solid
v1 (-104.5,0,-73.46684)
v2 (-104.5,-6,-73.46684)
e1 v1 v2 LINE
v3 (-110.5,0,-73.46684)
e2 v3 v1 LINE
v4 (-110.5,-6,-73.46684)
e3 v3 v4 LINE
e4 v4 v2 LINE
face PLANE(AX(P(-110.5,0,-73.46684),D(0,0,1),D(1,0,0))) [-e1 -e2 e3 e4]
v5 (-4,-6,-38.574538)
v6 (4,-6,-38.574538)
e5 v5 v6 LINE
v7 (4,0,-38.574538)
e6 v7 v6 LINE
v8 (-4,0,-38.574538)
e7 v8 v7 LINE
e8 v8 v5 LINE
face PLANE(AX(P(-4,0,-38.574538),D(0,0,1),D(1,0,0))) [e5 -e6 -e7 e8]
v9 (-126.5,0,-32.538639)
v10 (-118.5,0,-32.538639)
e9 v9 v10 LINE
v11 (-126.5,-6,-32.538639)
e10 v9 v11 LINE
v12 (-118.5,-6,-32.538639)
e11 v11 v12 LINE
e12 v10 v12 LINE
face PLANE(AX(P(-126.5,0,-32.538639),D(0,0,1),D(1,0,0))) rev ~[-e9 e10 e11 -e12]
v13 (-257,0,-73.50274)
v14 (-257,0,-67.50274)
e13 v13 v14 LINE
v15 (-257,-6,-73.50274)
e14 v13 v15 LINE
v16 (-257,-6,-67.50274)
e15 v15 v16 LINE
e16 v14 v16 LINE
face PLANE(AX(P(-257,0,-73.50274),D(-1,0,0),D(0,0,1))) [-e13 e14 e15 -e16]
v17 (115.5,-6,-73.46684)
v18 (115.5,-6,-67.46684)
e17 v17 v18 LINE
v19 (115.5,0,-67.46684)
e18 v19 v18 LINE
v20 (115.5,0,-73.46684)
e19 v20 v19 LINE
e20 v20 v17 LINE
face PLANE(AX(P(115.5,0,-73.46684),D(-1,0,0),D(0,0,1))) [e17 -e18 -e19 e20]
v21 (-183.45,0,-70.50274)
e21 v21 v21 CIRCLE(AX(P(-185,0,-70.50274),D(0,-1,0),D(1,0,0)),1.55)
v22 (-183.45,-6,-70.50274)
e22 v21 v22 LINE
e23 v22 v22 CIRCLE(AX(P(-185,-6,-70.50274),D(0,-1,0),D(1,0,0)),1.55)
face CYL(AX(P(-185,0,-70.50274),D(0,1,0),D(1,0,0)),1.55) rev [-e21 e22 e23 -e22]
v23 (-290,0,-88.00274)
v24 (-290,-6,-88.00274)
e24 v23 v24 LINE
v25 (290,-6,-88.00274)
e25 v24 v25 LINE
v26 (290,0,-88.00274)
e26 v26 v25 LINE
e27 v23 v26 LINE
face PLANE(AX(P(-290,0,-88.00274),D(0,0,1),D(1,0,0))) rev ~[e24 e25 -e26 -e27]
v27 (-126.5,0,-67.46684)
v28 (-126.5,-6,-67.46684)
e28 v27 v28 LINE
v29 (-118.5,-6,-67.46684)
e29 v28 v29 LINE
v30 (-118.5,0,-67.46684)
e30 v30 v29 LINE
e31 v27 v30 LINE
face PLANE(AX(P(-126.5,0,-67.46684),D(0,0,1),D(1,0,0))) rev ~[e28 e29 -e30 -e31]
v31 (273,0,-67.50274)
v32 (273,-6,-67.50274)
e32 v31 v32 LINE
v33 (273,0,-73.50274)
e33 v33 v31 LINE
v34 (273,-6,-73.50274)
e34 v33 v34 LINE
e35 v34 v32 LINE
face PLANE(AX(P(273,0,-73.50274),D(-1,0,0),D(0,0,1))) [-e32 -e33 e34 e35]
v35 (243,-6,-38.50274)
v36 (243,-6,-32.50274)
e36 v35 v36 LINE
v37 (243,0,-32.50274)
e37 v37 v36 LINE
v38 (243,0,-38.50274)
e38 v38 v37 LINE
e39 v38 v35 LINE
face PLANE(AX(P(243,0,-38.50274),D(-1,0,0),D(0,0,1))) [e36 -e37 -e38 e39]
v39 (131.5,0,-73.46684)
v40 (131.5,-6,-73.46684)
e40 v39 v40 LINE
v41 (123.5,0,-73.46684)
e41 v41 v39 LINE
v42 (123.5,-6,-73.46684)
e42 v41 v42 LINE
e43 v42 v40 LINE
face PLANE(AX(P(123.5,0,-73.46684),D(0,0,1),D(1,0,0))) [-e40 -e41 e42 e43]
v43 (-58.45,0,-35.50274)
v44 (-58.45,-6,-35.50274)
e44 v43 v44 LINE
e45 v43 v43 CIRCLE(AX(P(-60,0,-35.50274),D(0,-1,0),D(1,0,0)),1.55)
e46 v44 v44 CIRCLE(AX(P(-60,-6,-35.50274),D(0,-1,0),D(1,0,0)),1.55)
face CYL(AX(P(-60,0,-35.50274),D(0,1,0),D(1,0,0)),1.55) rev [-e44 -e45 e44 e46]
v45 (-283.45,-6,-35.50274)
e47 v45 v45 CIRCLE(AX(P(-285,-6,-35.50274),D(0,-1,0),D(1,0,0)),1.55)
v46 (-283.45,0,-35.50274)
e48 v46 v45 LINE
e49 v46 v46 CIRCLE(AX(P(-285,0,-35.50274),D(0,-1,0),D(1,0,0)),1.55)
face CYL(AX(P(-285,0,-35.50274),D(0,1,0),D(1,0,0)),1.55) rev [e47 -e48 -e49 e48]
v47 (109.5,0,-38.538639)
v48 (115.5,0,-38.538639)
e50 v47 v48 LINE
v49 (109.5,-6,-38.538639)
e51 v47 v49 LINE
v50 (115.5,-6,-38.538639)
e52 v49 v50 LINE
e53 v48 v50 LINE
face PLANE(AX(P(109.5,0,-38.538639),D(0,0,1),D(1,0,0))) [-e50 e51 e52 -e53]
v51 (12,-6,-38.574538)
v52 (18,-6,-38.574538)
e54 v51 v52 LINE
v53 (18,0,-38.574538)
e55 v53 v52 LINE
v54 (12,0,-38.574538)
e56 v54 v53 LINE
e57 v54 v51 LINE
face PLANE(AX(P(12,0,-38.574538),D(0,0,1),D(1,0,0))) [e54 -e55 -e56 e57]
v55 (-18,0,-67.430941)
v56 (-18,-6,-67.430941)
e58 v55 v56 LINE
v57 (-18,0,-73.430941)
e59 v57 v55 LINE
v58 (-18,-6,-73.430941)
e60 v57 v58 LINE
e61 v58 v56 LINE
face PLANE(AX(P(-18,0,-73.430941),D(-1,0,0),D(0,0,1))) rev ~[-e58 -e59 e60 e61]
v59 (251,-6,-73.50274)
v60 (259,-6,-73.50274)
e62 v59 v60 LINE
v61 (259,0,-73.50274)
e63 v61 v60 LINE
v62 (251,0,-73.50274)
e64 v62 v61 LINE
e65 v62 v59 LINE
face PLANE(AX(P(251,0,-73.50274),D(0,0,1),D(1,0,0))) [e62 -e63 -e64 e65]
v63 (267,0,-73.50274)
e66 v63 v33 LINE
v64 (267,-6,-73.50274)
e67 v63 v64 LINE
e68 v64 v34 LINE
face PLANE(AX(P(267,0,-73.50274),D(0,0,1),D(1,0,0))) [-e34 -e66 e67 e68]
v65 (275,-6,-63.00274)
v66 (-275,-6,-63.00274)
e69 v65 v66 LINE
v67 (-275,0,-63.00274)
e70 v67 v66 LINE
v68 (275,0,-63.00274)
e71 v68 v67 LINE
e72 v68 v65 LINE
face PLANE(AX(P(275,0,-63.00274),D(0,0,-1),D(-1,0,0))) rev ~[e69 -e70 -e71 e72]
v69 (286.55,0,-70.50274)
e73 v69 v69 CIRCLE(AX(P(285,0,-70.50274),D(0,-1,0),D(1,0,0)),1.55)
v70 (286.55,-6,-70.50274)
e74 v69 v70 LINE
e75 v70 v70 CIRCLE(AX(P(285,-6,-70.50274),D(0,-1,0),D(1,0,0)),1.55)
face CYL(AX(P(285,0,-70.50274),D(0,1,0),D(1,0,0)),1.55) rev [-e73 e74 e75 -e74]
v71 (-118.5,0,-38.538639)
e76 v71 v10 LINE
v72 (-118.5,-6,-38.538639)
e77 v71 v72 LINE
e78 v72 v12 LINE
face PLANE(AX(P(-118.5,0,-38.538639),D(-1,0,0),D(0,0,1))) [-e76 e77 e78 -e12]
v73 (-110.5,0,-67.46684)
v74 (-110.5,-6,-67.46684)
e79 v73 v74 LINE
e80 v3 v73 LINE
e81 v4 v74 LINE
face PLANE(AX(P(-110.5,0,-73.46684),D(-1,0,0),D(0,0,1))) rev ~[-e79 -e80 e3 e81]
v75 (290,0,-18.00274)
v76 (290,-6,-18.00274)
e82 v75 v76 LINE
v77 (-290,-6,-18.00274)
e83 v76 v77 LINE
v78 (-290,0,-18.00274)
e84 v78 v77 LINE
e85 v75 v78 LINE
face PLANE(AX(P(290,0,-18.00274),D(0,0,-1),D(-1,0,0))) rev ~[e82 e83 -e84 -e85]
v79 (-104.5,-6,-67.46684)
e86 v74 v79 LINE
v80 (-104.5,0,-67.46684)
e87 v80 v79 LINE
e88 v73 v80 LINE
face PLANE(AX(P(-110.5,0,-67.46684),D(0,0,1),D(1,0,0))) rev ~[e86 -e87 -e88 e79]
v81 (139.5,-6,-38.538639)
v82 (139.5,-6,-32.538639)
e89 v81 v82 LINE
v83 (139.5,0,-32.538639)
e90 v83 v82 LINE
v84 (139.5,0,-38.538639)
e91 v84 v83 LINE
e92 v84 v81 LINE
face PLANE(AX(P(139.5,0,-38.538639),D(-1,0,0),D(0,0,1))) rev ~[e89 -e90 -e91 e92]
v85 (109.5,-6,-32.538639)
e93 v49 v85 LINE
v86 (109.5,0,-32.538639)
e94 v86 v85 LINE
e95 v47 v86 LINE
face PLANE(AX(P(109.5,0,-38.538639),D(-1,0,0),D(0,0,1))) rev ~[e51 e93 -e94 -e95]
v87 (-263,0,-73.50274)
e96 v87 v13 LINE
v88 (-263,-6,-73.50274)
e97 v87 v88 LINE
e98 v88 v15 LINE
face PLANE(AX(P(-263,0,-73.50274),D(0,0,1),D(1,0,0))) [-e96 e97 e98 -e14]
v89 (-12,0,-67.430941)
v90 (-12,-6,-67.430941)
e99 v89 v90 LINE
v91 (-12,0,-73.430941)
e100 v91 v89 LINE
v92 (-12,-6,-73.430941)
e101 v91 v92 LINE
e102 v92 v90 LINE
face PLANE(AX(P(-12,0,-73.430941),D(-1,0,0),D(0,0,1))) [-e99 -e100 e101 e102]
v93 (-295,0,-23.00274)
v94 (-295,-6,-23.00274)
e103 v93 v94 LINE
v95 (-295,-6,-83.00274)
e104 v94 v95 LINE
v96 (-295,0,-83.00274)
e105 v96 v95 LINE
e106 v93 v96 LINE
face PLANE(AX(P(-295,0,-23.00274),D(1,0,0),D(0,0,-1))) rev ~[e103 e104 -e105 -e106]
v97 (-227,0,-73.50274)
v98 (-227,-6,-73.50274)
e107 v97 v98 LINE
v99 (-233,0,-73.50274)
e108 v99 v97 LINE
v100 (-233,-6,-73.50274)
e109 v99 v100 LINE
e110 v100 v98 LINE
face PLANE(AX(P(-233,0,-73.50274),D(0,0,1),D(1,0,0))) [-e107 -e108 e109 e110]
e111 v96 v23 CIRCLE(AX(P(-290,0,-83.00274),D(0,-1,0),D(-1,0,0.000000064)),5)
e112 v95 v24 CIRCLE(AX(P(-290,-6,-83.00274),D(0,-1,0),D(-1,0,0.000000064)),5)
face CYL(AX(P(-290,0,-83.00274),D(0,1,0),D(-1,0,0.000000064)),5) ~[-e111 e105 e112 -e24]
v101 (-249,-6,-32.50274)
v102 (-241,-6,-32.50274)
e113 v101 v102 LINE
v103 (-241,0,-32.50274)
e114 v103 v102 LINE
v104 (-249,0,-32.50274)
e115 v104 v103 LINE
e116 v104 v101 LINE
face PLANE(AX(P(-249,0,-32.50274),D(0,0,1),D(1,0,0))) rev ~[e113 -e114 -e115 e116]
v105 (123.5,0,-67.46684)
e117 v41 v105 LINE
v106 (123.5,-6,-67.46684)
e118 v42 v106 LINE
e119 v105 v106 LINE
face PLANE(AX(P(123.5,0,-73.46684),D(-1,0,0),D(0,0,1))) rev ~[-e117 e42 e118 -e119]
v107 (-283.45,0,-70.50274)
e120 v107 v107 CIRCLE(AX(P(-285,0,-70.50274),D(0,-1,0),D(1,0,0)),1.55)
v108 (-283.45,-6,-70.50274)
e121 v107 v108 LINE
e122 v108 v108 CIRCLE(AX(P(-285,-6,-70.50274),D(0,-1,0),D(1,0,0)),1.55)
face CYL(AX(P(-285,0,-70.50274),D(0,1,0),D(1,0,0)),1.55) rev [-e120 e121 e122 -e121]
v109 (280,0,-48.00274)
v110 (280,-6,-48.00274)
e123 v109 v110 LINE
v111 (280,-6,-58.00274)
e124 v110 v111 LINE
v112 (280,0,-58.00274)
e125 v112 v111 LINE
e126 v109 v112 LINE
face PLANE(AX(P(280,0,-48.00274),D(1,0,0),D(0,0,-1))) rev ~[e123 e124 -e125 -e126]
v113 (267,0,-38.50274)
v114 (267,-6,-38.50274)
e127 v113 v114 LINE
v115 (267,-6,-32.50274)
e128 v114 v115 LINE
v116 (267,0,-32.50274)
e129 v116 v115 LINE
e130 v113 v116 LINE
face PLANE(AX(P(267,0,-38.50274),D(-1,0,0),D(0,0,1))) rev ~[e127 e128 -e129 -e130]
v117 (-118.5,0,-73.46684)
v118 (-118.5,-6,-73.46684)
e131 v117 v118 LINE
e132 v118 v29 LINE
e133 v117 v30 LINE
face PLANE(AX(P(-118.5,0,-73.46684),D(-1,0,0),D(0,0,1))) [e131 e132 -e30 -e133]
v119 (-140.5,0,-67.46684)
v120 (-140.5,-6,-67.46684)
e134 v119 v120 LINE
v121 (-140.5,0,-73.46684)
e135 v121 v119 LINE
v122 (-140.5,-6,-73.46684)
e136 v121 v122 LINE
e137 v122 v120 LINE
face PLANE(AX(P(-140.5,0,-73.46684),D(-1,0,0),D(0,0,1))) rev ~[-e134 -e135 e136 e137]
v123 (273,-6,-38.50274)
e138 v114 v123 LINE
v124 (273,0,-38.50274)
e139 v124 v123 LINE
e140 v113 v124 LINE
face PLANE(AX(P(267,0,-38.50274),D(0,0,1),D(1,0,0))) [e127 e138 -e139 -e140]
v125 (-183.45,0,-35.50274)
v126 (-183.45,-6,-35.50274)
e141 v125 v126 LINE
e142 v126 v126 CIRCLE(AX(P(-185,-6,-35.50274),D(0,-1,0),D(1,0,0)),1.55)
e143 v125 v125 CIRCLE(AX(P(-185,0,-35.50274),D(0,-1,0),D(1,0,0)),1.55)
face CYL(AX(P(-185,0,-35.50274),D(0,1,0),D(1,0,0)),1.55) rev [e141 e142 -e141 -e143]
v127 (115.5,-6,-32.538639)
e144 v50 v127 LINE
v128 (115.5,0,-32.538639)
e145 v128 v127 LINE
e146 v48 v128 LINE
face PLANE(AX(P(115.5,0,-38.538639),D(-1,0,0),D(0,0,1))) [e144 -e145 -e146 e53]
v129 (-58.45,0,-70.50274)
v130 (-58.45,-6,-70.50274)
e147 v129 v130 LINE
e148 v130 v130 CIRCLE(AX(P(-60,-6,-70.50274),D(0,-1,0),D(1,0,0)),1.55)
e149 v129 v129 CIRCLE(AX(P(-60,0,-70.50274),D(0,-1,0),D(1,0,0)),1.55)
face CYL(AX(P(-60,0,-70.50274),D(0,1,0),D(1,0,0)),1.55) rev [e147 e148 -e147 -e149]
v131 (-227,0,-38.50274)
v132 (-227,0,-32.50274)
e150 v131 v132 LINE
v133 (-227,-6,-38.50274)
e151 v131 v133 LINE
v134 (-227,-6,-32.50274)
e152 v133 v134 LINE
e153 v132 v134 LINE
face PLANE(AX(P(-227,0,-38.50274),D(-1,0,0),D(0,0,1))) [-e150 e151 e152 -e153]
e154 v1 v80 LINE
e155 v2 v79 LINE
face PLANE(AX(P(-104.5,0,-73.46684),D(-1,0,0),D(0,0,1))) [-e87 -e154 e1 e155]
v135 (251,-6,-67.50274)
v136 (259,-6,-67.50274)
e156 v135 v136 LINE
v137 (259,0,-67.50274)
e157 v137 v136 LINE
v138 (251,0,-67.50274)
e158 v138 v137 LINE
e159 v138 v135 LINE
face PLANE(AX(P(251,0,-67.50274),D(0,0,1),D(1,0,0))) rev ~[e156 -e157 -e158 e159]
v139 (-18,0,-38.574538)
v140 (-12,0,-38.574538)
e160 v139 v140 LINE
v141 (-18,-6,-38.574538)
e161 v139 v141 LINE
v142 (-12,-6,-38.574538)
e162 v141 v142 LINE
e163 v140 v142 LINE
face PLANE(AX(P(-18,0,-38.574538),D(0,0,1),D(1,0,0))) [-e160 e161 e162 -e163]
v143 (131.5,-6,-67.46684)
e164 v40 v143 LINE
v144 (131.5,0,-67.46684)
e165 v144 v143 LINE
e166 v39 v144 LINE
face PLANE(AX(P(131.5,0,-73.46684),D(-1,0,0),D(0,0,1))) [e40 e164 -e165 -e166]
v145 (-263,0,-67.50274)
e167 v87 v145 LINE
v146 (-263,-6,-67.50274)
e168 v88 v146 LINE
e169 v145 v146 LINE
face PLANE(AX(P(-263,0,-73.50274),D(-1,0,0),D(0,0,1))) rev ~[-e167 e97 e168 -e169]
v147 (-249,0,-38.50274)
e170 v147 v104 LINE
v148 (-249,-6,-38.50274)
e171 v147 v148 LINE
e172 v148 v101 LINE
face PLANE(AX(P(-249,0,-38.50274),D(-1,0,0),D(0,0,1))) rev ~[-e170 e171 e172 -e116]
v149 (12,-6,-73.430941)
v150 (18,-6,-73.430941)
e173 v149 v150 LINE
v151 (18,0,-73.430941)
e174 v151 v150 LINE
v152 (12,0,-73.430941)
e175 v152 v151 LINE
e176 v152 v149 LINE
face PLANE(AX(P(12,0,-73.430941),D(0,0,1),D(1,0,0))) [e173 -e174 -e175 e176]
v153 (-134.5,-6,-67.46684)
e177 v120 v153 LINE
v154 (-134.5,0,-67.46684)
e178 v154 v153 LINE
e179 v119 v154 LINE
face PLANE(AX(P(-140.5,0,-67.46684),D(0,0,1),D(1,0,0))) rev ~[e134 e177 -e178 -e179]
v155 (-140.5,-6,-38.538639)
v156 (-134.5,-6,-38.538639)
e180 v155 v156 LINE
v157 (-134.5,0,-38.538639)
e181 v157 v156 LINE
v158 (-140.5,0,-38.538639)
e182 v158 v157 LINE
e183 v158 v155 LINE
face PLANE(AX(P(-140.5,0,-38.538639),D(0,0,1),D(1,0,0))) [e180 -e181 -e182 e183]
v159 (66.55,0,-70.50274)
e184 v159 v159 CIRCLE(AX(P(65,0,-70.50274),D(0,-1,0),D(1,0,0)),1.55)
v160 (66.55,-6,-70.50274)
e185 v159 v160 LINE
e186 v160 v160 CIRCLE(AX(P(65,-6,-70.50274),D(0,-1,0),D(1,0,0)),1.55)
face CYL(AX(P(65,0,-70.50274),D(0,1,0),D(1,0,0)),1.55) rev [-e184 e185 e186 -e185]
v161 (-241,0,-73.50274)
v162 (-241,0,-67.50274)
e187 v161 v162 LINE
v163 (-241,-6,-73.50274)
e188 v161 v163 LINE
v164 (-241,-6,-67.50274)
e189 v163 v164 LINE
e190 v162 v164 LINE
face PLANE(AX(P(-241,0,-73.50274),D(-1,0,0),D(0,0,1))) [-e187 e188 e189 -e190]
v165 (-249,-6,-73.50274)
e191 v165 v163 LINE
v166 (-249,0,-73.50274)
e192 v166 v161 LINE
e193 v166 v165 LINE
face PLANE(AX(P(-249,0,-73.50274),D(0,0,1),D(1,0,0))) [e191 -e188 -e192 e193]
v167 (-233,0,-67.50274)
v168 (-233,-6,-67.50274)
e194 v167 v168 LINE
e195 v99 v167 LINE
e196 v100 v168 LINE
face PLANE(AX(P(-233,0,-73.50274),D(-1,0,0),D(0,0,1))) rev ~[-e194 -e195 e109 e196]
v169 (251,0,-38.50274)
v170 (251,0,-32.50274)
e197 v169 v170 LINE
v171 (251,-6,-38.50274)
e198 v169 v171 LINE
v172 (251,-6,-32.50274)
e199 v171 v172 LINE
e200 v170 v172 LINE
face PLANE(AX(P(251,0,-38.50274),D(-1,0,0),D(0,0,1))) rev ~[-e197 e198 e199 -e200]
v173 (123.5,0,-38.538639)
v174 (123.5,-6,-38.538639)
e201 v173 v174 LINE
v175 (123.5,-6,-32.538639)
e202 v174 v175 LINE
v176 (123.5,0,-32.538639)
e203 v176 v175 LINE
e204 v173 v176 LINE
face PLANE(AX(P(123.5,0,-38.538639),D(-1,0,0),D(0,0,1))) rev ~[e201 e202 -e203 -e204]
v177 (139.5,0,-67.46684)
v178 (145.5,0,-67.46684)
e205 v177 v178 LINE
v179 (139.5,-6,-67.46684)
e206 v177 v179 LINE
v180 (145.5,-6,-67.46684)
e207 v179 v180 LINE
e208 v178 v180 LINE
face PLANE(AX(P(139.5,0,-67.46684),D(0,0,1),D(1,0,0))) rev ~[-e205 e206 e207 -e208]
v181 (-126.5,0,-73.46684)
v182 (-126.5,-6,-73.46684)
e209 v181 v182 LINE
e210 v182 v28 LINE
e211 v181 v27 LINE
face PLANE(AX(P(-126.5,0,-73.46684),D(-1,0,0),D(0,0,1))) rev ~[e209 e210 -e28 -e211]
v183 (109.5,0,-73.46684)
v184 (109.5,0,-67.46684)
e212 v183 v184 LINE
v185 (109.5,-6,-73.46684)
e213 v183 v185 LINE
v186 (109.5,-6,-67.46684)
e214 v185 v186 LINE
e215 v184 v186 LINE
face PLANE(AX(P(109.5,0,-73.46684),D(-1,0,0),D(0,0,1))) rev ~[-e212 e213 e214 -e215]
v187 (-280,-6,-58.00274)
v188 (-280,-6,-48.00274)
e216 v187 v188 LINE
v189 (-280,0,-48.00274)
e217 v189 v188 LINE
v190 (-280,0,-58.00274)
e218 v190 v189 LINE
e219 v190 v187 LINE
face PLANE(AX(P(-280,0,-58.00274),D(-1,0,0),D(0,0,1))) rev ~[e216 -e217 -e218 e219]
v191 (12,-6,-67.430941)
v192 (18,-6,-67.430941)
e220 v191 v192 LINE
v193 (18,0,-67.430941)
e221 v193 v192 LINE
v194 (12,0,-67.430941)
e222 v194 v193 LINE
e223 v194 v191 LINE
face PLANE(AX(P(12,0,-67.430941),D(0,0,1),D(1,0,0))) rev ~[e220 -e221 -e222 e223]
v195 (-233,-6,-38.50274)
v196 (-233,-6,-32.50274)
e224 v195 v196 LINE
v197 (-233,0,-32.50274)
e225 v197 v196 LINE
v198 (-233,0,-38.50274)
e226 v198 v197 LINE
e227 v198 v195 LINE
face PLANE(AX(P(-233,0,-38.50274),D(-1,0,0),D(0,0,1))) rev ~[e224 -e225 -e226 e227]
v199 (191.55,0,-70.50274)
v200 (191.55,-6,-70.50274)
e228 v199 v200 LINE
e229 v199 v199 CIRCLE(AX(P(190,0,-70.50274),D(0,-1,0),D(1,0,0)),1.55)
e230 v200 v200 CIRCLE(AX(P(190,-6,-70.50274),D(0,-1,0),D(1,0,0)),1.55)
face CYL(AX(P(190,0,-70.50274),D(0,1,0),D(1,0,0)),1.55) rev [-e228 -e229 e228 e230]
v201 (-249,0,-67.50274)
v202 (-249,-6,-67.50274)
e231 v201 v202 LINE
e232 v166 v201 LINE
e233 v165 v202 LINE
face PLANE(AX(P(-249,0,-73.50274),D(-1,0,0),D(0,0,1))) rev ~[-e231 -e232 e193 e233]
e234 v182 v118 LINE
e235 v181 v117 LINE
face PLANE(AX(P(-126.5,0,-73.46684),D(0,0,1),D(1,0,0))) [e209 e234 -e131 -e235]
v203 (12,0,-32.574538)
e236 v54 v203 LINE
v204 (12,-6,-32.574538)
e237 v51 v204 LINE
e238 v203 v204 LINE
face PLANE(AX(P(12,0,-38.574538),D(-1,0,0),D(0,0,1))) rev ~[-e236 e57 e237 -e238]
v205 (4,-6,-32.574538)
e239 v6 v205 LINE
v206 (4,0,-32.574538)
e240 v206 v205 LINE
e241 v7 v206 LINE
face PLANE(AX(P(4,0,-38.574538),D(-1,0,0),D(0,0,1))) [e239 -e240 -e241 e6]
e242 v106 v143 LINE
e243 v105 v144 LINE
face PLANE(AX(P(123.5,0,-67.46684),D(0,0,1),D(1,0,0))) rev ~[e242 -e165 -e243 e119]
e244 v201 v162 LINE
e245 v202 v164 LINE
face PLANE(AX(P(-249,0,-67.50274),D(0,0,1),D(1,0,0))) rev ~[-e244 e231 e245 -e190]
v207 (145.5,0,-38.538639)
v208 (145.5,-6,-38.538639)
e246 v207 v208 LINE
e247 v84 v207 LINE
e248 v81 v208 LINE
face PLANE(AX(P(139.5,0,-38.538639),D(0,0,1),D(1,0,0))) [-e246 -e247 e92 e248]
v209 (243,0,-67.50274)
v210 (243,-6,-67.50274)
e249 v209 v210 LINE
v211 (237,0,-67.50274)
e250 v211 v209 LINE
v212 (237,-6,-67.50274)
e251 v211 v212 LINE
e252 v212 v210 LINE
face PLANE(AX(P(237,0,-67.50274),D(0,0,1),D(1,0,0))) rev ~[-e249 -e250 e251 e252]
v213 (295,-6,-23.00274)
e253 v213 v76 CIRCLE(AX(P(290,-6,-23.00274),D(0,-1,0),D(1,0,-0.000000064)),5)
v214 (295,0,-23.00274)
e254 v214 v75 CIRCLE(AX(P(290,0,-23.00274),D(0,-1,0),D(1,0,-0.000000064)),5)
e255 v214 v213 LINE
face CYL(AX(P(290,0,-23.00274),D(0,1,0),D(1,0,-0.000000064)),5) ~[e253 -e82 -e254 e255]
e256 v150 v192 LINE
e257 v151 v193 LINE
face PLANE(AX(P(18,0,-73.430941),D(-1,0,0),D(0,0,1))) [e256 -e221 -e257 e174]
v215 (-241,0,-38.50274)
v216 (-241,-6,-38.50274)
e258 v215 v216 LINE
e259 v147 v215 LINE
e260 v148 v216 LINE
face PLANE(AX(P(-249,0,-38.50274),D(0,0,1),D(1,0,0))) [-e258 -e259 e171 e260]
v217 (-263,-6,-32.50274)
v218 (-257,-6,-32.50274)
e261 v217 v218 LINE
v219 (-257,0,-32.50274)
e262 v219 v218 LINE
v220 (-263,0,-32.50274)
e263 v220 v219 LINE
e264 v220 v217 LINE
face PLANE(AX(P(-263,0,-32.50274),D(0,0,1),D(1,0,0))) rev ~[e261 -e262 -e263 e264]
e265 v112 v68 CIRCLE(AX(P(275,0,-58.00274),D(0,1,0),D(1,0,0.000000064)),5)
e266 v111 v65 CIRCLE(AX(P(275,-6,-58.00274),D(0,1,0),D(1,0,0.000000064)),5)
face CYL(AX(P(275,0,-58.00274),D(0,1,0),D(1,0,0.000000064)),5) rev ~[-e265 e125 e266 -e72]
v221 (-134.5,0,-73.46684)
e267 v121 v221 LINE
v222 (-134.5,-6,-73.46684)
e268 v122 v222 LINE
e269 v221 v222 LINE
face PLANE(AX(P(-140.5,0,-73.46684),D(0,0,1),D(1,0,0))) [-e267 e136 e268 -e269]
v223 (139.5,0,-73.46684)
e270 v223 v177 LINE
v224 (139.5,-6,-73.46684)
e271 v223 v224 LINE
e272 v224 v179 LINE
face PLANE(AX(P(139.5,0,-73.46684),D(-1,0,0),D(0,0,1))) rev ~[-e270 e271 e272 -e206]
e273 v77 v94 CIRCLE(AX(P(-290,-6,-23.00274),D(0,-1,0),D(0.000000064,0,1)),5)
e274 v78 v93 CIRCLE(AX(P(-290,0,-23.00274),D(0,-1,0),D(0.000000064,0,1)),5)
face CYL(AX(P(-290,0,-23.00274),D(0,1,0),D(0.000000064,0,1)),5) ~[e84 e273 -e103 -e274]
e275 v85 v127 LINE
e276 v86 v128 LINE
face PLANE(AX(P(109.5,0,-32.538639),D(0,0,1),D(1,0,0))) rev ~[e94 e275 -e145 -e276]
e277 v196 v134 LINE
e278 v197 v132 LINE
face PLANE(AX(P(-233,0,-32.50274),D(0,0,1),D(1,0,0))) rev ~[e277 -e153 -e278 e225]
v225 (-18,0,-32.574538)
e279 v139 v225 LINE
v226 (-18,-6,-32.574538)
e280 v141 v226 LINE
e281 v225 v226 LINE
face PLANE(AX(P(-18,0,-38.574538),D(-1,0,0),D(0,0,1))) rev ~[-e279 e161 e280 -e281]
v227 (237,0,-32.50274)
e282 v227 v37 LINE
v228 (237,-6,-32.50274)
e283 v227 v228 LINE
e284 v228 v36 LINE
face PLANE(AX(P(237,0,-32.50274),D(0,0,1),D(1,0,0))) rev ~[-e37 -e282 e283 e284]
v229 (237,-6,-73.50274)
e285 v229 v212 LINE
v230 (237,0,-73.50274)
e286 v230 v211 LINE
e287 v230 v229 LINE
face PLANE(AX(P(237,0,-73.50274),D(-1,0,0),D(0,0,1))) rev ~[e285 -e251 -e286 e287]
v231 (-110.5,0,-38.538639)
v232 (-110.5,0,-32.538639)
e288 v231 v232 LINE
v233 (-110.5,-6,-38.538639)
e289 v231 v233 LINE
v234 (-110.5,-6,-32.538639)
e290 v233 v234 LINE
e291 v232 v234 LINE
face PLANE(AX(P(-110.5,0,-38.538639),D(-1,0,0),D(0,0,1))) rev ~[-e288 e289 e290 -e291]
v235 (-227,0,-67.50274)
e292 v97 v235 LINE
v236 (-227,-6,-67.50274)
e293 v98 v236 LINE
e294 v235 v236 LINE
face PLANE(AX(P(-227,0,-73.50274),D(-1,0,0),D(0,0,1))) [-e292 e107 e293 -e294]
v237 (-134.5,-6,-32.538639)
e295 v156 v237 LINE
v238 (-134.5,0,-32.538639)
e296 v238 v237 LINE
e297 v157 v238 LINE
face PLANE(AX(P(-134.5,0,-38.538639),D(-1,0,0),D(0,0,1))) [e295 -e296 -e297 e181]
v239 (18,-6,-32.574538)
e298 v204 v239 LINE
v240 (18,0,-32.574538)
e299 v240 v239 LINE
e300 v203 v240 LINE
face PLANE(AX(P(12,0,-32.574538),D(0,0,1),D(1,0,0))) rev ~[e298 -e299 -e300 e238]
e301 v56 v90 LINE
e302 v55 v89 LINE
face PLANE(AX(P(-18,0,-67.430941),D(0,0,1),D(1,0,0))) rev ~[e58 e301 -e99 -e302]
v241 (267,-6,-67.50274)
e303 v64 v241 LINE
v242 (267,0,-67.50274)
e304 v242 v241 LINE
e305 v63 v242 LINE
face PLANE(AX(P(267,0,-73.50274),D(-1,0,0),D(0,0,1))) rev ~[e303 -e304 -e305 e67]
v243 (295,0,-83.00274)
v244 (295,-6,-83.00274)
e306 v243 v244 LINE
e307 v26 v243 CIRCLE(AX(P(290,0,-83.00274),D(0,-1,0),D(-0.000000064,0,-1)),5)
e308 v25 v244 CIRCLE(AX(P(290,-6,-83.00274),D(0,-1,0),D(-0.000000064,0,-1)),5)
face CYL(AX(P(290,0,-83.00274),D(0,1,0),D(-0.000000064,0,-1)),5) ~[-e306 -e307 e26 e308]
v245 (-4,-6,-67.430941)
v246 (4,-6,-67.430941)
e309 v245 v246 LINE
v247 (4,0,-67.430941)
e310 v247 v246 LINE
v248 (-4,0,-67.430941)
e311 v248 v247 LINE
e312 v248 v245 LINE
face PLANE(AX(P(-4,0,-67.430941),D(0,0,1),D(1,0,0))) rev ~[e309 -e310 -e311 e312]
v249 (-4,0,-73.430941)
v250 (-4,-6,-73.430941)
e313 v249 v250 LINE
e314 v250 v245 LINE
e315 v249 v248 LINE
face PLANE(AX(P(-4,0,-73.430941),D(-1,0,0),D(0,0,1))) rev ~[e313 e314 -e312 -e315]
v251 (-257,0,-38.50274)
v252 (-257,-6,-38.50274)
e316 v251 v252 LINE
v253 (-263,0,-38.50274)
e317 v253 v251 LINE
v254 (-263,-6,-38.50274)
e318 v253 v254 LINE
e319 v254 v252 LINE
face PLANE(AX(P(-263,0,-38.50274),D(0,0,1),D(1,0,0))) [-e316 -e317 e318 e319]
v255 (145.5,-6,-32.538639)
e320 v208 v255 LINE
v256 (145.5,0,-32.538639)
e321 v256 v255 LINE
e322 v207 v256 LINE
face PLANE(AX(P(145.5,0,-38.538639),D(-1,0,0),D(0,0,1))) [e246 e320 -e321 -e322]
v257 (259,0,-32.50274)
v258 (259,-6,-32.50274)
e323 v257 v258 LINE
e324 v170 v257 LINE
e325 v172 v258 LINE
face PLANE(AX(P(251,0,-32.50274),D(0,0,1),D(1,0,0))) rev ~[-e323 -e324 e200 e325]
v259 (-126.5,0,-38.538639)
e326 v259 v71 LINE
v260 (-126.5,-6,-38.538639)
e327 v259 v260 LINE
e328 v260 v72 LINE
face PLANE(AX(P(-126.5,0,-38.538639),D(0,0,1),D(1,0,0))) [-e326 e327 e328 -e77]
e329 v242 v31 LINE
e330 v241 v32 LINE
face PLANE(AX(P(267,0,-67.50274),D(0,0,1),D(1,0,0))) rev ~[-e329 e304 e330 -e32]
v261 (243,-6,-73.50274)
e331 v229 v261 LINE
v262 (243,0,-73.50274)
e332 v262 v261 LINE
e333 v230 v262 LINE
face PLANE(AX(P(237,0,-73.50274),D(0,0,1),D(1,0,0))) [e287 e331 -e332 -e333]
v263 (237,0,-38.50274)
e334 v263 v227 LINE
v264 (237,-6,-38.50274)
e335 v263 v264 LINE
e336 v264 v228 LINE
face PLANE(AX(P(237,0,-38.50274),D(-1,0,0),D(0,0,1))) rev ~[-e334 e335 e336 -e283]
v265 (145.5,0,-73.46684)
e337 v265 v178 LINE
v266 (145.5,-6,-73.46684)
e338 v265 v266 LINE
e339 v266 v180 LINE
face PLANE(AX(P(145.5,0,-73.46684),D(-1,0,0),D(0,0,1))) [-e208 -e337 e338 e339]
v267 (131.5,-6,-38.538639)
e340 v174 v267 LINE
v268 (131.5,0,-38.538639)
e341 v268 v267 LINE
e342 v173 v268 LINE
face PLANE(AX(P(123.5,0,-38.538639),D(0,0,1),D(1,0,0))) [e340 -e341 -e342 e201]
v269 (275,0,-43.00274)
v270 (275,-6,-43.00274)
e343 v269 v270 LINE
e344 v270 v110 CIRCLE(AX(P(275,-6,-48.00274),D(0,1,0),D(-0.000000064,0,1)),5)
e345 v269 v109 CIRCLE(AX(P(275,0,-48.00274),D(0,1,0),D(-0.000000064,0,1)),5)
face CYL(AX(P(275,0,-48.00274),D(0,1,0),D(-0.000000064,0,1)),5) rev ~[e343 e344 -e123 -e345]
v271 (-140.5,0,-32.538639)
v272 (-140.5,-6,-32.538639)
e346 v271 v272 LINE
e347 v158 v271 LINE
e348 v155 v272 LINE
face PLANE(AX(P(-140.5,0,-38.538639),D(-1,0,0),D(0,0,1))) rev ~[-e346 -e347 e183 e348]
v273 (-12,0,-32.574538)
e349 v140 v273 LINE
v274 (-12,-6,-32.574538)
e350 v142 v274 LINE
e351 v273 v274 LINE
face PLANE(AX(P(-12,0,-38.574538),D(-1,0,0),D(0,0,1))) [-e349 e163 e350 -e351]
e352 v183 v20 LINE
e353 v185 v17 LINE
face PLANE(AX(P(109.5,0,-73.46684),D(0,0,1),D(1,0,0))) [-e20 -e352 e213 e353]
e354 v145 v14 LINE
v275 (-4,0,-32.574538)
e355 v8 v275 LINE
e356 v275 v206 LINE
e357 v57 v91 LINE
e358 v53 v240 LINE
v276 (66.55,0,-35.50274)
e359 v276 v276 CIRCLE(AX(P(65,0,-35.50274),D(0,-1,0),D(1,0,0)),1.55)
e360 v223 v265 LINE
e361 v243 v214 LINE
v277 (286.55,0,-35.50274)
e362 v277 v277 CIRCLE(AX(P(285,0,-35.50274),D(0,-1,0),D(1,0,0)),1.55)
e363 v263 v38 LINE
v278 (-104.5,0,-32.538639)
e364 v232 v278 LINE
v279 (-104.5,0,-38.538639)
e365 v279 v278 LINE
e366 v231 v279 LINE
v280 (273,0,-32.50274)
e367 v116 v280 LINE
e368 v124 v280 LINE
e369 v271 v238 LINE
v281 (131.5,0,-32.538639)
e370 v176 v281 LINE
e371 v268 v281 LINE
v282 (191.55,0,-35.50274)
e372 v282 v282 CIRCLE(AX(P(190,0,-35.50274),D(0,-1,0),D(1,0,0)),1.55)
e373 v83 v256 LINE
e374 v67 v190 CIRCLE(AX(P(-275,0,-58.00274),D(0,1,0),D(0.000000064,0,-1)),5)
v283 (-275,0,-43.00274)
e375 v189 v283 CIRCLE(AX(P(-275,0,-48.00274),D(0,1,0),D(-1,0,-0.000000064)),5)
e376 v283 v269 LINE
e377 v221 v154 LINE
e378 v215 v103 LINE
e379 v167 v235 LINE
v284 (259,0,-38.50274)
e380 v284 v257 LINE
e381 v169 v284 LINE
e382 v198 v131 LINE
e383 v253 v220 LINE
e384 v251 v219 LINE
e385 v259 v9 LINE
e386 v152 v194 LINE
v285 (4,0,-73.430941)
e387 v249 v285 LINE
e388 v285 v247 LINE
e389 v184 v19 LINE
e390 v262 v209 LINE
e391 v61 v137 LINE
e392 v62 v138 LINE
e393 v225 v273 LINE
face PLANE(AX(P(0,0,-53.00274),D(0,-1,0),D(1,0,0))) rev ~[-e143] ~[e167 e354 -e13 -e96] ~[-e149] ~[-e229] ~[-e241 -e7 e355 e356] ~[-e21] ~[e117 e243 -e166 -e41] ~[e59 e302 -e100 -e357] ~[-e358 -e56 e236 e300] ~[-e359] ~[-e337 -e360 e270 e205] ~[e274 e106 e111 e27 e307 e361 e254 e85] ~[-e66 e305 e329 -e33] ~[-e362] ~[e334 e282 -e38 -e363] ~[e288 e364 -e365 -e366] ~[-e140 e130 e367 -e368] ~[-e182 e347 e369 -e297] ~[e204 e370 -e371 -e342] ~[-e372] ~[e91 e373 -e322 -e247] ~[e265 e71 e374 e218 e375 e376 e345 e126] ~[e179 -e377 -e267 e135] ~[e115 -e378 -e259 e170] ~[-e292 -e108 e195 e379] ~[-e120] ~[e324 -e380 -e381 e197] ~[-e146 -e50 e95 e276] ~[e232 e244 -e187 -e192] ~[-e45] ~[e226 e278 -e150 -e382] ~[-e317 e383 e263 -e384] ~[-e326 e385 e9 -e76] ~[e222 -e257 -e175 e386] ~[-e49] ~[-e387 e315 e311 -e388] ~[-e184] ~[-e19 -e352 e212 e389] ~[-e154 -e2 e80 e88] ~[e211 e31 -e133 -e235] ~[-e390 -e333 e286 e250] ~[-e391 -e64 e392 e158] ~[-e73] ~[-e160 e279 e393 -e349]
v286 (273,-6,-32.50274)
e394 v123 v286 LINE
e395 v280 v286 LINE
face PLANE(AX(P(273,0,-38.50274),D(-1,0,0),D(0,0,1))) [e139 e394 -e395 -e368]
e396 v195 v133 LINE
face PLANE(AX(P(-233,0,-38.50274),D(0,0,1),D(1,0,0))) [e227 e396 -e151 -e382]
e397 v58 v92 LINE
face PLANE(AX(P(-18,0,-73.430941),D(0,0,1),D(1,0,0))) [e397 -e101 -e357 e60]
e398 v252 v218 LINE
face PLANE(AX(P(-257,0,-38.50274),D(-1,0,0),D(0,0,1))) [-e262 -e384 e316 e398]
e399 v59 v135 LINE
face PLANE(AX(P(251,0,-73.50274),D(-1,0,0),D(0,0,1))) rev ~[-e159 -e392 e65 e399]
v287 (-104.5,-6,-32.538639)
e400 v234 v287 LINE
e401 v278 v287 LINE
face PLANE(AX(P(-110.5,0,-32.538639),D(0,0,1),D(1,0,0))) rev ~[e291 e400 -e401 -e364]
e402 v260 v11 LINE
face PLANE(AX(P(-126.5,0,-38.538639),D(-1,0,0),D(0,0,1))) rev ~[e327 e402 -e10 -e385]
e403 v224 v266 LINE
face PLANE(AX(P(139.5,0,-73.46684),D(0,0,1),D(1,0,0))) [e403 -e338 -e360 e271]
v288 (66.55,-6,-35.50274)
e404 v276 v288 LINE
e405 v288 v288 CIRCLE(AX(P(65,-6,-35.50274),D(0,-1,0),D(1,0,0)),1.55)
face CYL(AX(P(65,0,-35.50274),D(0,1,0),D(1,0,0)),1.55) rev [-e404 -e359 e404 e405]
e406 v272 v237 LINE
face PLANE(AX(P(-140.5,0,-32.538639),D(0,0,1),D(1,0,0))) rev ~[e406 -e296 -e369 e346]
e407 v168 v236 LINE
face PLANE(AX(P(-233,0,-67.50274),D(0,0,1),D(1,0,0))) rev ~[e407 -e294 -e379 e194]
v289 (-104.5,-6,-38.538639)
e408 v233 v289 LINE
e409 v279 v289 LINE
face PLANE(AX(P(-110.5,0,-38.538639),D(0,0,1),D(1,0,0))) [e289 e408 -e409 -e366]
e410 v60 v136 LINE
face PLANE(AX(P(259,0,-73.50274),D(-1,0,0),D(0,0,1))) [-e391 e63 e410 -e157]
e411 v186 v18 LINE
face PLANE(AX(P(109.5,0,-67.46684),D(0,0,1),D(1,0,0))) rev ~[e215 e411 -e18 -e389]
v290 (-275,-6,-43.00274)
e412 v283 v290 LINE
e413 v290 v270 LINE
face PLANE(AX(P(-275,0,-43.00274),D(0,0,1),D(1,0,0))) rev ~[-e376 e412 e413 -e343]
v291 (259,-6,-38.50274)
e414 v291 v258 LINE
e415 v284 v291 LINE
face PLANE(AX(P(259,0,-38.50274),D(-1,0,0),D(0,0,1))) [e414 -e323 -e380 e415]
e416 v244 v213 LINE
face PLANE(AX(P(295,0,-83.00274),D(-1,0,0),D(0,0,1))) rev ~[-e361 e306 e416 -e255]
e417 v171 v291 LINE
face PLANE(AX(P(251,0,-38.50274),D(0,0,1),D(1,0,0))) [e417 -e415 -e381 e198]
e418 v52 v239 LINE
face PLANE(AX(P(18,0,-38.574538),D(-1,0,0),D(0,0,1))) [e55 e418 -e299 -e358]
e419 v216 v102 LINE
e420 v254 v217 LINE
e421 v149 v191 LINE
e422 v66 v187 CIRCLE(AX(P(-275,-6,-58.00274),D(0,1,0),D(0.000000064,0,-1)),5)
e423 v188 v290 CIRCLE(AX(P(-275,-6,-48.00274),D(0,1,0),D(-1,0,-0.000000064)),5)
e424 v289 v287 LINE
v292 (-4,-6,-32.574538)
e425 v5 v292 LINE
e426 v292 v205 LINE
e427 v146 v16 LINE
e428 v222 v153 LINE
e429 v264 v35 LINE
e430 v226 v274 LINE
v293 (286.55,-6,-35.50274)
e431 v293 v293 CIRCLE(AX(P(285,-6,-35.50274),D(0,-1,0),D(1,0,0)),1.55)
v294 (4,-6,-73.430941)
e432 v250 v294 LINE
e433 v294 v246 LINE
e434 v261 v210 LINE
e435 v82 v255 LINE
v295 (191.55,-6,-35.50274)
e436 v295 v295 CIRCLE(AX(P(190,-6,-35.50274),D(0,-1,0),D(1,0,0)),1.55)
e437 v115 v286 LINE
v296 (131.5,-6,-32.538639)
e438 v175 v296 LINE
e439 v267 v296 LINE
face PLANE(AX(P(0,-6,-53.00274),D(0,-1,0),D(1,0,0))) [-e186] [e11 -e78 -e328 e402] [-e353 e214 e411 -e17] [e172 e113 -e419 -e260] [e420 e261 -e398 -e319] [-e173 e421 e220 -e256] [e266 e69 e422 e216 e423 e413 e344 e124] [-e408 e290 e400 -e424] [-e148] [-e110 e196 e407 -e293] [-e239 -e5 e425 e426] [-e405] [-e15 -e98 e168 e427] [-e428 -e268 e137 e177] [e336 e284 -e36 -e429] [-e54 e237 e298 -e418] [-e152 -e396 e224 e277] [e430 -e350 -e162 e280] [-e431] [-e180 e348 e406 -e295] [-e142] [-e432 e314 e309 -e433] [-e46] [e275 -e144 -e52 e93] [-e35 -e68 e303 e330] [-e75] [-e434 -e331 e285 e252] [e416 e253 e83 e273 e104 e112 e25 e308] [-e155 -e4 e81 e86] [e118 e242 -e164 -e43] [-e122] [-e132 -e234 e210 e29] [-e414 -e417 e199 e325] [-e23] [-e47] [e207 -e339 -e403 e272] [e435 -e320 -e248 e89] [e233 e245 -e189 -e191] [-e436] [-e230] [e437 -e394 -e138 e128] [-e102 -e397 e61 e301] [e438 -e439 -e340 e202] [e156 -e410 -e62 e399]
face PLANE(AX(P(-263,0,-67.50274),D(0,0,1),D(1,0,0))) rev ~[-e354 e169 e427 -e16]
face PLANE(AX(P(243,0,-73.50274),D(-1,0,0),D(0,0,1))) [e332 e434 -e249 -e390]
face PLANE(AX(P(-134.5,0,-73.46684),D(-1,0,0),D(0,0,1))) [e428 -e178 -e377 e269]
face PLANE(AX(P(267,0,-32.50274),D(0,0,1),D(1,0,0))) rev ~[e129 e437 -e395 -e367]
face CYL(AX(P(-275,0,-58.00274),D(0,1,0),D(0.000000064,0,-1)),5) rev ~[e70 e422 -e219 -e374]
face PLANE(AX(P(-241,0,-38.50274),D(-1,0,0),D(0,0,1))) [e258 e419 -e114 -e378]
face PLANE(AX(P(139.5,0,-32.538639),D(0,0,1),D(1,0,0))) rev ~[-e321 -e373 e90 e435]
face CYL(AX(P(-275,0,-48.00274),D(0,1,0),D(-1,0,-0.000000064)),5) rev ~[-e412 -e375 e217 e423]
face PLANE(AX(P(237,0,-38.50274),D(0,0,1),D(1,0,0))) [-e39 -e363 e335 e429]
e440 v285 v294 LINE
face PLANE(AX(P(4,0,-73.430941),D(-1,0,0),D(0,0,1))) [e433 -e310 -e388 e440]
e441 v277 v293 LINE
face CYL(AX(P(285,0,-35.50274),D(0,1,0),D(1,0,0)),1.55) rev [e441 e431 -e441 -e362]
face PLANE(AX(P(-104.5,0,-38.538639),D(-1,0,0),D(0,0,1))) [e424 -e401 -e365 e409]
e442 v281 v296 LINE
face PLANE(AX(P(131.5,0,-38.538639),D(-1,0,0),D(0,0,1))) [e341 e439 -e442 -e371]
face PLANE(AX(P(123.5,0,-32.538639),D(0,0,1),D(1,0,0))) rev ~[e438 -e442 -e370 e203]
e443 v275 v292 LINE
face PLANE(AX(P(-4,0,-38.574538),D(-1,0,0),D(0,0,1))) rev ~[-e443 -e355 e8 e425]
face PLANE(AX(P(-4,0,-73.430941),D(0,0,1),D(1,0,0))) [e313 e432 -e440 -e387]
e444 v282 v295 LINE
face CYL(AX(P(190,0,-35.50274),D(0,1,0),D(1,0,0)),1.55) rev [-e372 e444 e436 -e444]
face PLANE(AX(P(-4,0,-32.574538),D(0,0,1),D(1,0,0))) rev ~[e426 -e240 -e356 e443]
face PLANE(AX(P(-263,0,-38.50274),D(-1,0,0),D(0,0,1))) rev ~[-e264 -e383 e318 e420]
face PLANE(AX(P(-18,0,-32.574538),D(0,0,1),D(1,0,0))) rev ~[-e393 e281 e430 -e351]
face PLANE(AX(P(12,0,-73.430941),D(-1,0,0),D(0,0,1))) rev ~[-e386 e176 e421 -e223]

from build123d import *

# Parameters (mm, degrees)
F0_R     = 1.55
F0_W     = 6
F0_H     = 6
F0_W_2   = 8
F1_DEPTH = 6


with BuildPart() as f1:
    # F0 (on Front) → F1 (new body)
    with BuildSketch(Plane.XZ):
        with BuildLine():
            Line((-295, -23.00274), (-295, -83.00274))
            ThreePointArc((-295, -83.00274), (-293.535534, -86.538274), (-290, -88.00274))
            Line((-290, -88.00274), (290, -88.00274))
            ThreePointArc((290, -88.00274), (293.535534, -86.538274), (295, -83.00274))
            Line((295, -83.00274), (295, -23.00274))
            ThreePointArc((295, -23.00274), (293.535534, -19.467206), (290, -18.00274))
            Line((290, -18.00274), (-290, -18.00274))
            ThreePointArc((-290, -18.00274), (-293.535534, -19.467206), (-295, -23.00274))
        make_face()
        with Locations((-285, -70.50274)):
            Circle(F0_R, mode=Mode.SUBTRACT)
        with Locations((-260, -70.50274)):
            Rectangle(F0_W, F0_H, mode=Mode.SUBTRACT)
        with Locations((-245, -70.50274)):
            Rectangle(F0_W_2, F0_H, mode=Mode.SUBTRACT)
        with Locations((-230, -70.50274)):
            Rectangle(F0_W, F0_H, mode=Mode.SUBTRACT)
        with Locations((-185, -70.50274)):
            Circle(F0_R, mode=Mode.SUBTRACT)
        with Locations((-60, -70.50274)):
            Circle(F0_R, mode=Mode.SUBTRACT)
        with Locations((-137.5, -70.46684)):
            Rectangle(F0_W, F0_H, mode=Mode.SUBTRACT)
        with Locations((-122.5, -70.46684)):
            Rectangle(F0_W_2, F0_H, mode=Mode.SUBTRACT)
        with Locations((-107.5, -70.46684)):
            Rectangle(F0_W, F0_H, mode=Mode.SUBTRACT)
        with Locations((-15, -70.430941)):
            Rectangle(F0_W, F0_H, mode=Mode.SUBTRACT)
        with Locations((65, -70.50274)):
            Circle(F0_R, mode=Mode.SUBTRACT)
        with Locations((190, -70.50274)):
            Circle(F0_R, mode=Mode.SUBTRACT)
        with Locations((240, -70.50274)):
            Rectangle(F0_W, F0_H, mode=Mode.SUBTRACT)
        with Locations((255, -70.50274)):
            Rectangle(F0_W_2, F0_H, mode=Mode.SUBTRACT)
        with Locations((270, -70.50274)):
            Rectangle(F0_W, F0_H, mode=Mode.SUBTRACT)
        with Locations((285, -70.50274)):
            Circle(F0_R, mode=Mode.SUBTRACT)
        with Locations((0, -70.430941)):
            Rectangle(F0_W_2, F0_H, mode=Mode.SUBTRACT)
        with Locations((15, -70.430941)):
            Rectangle(F0_W, F0_H, mode=Mode.SUBTRACT)
        with Locations((112.5, -70.46684)):
            Rectangle(F0_W, F0_H, mode=Mode.SUBTRACT)
        with Locations((127.5, -70.46684)):
            Rectangle(F0_W_2, F0_H, mode=Mode.SUBTRACT)
        with Locations((142.5, -70.46684)):
            Rectangle(F0_W, F0_H, mode=Mode.SUBTRACT)
        with BuildLine():
            ThreePointArc((-280, -48.00274), (-278.535534, -44.467206), (-275, -43.00274))
            Line((-275, -43.00274), (275, -43.00274))
            ThreePointArc((275, -43.00274), (278.535534, -44.467206), (280, -48.00274))
            Line((280, -48.00274), (280, -58.00274))
            ThreePointArc((280, -58.00274), (278.535534, -61.538274), (275, -63.00274))
            Line((275, -63.00274), (-275, -63.00274))
            ThreePointArc((-275, -63.00274), (-278.535534, -61.538274), (-280, -58.00274))
            Line((-280, -58.00274), (-280, -48.00274))
        make_face(mode=Mode.SUBTRACT)
        with Locations((-285, -35.50274)):
            Circle(F0_R, mode=Mode.SUBTRACT)
        with Locations((-260, -35.50274)):
            Rectangle(F0_W, F0_H, mode=Mode.SUBTRACT)
        with Locations((-245, -35.50274)):
            Rectangle(F0_W_2, F0_H, mode=Mode.SUBTRACT)
        with Locations((-230, -35.50274)):
            Rectangle(F0_W, F0_H, mode=Mode.SUBTRACT)
        with Locations((-185, -35.50274)):
            Circle(F0_R, mode=Mode.SUBTRACT)
        with Locations((-137.5, -35.538639)):
            Rectangle(F0_W, F0_H, mode=Mode.SUBTRACT)
        with Locations((-122.5, -35.538639)):
            Rectangle(F0_W_2, F0_H, mode=Mode.SUBTRACT)
        with Locations((-107.5, -35.538639)):
            Rectangle(F0_W, F0_H, mode=Mode.SUBTRACT)
        with Locations((-60, -35.50274)):
            Circle(F0_R, mode=Mode.SUBTRACT)
        with Locations((-15, -35.574538)):
            Rectangle(F0_W, F0_H, mode=Mode.SUBTRACT)
        with Locations((0, -35.574538)):
            Rectangle(F0_W_2, F0_H, mode=Mode.SUBTRACT)
        with Locations((15, -35.574538)):
            Rectangle(F0_W, F0_H, mode=Mode.SUBTRACT)
        with Locations((65, -35.50274)):
            Circle(F0_R, mode=Mode.SUBTRACT)
        with Locations((112.5, -35.538639)):
            Rectangle(F0_W, F0_H, mode=Mode.SUBTRACT)
        with Locations((127.5, -35.538639)):
            Rectangle(F0_W_2, F0_H, mode=Mode.SUBTRACT)
        with Locations((142.5, -35.538639)):
            Rectangle(F0_W, F0_H, mode=Mode.SUBTRACT)
        with Locations((190, -35.50274)):
            Circle(F0_R, mode=Mode.SUBTRACT)
        with Locations((240, -35.50274)):
            Rectangle(F0_W, F0_H, mode=Mode.SUBTRACT)
        with Locations((255, -35.50274)):
            Rectangle(F0_W_2, F0_H, mode=Mode.SUBTRACT)
        with Locations((270, -35.50274)):
            Rectangle(F0_W, F0_H, mode=Mode.SUBTRACT)
        with Locations((285, -35.50274)):
            Circle(F0_R, mode=Mode.SUBTRACT)
    extrude(amount=F1_DEPTH)


solid = f1.part
